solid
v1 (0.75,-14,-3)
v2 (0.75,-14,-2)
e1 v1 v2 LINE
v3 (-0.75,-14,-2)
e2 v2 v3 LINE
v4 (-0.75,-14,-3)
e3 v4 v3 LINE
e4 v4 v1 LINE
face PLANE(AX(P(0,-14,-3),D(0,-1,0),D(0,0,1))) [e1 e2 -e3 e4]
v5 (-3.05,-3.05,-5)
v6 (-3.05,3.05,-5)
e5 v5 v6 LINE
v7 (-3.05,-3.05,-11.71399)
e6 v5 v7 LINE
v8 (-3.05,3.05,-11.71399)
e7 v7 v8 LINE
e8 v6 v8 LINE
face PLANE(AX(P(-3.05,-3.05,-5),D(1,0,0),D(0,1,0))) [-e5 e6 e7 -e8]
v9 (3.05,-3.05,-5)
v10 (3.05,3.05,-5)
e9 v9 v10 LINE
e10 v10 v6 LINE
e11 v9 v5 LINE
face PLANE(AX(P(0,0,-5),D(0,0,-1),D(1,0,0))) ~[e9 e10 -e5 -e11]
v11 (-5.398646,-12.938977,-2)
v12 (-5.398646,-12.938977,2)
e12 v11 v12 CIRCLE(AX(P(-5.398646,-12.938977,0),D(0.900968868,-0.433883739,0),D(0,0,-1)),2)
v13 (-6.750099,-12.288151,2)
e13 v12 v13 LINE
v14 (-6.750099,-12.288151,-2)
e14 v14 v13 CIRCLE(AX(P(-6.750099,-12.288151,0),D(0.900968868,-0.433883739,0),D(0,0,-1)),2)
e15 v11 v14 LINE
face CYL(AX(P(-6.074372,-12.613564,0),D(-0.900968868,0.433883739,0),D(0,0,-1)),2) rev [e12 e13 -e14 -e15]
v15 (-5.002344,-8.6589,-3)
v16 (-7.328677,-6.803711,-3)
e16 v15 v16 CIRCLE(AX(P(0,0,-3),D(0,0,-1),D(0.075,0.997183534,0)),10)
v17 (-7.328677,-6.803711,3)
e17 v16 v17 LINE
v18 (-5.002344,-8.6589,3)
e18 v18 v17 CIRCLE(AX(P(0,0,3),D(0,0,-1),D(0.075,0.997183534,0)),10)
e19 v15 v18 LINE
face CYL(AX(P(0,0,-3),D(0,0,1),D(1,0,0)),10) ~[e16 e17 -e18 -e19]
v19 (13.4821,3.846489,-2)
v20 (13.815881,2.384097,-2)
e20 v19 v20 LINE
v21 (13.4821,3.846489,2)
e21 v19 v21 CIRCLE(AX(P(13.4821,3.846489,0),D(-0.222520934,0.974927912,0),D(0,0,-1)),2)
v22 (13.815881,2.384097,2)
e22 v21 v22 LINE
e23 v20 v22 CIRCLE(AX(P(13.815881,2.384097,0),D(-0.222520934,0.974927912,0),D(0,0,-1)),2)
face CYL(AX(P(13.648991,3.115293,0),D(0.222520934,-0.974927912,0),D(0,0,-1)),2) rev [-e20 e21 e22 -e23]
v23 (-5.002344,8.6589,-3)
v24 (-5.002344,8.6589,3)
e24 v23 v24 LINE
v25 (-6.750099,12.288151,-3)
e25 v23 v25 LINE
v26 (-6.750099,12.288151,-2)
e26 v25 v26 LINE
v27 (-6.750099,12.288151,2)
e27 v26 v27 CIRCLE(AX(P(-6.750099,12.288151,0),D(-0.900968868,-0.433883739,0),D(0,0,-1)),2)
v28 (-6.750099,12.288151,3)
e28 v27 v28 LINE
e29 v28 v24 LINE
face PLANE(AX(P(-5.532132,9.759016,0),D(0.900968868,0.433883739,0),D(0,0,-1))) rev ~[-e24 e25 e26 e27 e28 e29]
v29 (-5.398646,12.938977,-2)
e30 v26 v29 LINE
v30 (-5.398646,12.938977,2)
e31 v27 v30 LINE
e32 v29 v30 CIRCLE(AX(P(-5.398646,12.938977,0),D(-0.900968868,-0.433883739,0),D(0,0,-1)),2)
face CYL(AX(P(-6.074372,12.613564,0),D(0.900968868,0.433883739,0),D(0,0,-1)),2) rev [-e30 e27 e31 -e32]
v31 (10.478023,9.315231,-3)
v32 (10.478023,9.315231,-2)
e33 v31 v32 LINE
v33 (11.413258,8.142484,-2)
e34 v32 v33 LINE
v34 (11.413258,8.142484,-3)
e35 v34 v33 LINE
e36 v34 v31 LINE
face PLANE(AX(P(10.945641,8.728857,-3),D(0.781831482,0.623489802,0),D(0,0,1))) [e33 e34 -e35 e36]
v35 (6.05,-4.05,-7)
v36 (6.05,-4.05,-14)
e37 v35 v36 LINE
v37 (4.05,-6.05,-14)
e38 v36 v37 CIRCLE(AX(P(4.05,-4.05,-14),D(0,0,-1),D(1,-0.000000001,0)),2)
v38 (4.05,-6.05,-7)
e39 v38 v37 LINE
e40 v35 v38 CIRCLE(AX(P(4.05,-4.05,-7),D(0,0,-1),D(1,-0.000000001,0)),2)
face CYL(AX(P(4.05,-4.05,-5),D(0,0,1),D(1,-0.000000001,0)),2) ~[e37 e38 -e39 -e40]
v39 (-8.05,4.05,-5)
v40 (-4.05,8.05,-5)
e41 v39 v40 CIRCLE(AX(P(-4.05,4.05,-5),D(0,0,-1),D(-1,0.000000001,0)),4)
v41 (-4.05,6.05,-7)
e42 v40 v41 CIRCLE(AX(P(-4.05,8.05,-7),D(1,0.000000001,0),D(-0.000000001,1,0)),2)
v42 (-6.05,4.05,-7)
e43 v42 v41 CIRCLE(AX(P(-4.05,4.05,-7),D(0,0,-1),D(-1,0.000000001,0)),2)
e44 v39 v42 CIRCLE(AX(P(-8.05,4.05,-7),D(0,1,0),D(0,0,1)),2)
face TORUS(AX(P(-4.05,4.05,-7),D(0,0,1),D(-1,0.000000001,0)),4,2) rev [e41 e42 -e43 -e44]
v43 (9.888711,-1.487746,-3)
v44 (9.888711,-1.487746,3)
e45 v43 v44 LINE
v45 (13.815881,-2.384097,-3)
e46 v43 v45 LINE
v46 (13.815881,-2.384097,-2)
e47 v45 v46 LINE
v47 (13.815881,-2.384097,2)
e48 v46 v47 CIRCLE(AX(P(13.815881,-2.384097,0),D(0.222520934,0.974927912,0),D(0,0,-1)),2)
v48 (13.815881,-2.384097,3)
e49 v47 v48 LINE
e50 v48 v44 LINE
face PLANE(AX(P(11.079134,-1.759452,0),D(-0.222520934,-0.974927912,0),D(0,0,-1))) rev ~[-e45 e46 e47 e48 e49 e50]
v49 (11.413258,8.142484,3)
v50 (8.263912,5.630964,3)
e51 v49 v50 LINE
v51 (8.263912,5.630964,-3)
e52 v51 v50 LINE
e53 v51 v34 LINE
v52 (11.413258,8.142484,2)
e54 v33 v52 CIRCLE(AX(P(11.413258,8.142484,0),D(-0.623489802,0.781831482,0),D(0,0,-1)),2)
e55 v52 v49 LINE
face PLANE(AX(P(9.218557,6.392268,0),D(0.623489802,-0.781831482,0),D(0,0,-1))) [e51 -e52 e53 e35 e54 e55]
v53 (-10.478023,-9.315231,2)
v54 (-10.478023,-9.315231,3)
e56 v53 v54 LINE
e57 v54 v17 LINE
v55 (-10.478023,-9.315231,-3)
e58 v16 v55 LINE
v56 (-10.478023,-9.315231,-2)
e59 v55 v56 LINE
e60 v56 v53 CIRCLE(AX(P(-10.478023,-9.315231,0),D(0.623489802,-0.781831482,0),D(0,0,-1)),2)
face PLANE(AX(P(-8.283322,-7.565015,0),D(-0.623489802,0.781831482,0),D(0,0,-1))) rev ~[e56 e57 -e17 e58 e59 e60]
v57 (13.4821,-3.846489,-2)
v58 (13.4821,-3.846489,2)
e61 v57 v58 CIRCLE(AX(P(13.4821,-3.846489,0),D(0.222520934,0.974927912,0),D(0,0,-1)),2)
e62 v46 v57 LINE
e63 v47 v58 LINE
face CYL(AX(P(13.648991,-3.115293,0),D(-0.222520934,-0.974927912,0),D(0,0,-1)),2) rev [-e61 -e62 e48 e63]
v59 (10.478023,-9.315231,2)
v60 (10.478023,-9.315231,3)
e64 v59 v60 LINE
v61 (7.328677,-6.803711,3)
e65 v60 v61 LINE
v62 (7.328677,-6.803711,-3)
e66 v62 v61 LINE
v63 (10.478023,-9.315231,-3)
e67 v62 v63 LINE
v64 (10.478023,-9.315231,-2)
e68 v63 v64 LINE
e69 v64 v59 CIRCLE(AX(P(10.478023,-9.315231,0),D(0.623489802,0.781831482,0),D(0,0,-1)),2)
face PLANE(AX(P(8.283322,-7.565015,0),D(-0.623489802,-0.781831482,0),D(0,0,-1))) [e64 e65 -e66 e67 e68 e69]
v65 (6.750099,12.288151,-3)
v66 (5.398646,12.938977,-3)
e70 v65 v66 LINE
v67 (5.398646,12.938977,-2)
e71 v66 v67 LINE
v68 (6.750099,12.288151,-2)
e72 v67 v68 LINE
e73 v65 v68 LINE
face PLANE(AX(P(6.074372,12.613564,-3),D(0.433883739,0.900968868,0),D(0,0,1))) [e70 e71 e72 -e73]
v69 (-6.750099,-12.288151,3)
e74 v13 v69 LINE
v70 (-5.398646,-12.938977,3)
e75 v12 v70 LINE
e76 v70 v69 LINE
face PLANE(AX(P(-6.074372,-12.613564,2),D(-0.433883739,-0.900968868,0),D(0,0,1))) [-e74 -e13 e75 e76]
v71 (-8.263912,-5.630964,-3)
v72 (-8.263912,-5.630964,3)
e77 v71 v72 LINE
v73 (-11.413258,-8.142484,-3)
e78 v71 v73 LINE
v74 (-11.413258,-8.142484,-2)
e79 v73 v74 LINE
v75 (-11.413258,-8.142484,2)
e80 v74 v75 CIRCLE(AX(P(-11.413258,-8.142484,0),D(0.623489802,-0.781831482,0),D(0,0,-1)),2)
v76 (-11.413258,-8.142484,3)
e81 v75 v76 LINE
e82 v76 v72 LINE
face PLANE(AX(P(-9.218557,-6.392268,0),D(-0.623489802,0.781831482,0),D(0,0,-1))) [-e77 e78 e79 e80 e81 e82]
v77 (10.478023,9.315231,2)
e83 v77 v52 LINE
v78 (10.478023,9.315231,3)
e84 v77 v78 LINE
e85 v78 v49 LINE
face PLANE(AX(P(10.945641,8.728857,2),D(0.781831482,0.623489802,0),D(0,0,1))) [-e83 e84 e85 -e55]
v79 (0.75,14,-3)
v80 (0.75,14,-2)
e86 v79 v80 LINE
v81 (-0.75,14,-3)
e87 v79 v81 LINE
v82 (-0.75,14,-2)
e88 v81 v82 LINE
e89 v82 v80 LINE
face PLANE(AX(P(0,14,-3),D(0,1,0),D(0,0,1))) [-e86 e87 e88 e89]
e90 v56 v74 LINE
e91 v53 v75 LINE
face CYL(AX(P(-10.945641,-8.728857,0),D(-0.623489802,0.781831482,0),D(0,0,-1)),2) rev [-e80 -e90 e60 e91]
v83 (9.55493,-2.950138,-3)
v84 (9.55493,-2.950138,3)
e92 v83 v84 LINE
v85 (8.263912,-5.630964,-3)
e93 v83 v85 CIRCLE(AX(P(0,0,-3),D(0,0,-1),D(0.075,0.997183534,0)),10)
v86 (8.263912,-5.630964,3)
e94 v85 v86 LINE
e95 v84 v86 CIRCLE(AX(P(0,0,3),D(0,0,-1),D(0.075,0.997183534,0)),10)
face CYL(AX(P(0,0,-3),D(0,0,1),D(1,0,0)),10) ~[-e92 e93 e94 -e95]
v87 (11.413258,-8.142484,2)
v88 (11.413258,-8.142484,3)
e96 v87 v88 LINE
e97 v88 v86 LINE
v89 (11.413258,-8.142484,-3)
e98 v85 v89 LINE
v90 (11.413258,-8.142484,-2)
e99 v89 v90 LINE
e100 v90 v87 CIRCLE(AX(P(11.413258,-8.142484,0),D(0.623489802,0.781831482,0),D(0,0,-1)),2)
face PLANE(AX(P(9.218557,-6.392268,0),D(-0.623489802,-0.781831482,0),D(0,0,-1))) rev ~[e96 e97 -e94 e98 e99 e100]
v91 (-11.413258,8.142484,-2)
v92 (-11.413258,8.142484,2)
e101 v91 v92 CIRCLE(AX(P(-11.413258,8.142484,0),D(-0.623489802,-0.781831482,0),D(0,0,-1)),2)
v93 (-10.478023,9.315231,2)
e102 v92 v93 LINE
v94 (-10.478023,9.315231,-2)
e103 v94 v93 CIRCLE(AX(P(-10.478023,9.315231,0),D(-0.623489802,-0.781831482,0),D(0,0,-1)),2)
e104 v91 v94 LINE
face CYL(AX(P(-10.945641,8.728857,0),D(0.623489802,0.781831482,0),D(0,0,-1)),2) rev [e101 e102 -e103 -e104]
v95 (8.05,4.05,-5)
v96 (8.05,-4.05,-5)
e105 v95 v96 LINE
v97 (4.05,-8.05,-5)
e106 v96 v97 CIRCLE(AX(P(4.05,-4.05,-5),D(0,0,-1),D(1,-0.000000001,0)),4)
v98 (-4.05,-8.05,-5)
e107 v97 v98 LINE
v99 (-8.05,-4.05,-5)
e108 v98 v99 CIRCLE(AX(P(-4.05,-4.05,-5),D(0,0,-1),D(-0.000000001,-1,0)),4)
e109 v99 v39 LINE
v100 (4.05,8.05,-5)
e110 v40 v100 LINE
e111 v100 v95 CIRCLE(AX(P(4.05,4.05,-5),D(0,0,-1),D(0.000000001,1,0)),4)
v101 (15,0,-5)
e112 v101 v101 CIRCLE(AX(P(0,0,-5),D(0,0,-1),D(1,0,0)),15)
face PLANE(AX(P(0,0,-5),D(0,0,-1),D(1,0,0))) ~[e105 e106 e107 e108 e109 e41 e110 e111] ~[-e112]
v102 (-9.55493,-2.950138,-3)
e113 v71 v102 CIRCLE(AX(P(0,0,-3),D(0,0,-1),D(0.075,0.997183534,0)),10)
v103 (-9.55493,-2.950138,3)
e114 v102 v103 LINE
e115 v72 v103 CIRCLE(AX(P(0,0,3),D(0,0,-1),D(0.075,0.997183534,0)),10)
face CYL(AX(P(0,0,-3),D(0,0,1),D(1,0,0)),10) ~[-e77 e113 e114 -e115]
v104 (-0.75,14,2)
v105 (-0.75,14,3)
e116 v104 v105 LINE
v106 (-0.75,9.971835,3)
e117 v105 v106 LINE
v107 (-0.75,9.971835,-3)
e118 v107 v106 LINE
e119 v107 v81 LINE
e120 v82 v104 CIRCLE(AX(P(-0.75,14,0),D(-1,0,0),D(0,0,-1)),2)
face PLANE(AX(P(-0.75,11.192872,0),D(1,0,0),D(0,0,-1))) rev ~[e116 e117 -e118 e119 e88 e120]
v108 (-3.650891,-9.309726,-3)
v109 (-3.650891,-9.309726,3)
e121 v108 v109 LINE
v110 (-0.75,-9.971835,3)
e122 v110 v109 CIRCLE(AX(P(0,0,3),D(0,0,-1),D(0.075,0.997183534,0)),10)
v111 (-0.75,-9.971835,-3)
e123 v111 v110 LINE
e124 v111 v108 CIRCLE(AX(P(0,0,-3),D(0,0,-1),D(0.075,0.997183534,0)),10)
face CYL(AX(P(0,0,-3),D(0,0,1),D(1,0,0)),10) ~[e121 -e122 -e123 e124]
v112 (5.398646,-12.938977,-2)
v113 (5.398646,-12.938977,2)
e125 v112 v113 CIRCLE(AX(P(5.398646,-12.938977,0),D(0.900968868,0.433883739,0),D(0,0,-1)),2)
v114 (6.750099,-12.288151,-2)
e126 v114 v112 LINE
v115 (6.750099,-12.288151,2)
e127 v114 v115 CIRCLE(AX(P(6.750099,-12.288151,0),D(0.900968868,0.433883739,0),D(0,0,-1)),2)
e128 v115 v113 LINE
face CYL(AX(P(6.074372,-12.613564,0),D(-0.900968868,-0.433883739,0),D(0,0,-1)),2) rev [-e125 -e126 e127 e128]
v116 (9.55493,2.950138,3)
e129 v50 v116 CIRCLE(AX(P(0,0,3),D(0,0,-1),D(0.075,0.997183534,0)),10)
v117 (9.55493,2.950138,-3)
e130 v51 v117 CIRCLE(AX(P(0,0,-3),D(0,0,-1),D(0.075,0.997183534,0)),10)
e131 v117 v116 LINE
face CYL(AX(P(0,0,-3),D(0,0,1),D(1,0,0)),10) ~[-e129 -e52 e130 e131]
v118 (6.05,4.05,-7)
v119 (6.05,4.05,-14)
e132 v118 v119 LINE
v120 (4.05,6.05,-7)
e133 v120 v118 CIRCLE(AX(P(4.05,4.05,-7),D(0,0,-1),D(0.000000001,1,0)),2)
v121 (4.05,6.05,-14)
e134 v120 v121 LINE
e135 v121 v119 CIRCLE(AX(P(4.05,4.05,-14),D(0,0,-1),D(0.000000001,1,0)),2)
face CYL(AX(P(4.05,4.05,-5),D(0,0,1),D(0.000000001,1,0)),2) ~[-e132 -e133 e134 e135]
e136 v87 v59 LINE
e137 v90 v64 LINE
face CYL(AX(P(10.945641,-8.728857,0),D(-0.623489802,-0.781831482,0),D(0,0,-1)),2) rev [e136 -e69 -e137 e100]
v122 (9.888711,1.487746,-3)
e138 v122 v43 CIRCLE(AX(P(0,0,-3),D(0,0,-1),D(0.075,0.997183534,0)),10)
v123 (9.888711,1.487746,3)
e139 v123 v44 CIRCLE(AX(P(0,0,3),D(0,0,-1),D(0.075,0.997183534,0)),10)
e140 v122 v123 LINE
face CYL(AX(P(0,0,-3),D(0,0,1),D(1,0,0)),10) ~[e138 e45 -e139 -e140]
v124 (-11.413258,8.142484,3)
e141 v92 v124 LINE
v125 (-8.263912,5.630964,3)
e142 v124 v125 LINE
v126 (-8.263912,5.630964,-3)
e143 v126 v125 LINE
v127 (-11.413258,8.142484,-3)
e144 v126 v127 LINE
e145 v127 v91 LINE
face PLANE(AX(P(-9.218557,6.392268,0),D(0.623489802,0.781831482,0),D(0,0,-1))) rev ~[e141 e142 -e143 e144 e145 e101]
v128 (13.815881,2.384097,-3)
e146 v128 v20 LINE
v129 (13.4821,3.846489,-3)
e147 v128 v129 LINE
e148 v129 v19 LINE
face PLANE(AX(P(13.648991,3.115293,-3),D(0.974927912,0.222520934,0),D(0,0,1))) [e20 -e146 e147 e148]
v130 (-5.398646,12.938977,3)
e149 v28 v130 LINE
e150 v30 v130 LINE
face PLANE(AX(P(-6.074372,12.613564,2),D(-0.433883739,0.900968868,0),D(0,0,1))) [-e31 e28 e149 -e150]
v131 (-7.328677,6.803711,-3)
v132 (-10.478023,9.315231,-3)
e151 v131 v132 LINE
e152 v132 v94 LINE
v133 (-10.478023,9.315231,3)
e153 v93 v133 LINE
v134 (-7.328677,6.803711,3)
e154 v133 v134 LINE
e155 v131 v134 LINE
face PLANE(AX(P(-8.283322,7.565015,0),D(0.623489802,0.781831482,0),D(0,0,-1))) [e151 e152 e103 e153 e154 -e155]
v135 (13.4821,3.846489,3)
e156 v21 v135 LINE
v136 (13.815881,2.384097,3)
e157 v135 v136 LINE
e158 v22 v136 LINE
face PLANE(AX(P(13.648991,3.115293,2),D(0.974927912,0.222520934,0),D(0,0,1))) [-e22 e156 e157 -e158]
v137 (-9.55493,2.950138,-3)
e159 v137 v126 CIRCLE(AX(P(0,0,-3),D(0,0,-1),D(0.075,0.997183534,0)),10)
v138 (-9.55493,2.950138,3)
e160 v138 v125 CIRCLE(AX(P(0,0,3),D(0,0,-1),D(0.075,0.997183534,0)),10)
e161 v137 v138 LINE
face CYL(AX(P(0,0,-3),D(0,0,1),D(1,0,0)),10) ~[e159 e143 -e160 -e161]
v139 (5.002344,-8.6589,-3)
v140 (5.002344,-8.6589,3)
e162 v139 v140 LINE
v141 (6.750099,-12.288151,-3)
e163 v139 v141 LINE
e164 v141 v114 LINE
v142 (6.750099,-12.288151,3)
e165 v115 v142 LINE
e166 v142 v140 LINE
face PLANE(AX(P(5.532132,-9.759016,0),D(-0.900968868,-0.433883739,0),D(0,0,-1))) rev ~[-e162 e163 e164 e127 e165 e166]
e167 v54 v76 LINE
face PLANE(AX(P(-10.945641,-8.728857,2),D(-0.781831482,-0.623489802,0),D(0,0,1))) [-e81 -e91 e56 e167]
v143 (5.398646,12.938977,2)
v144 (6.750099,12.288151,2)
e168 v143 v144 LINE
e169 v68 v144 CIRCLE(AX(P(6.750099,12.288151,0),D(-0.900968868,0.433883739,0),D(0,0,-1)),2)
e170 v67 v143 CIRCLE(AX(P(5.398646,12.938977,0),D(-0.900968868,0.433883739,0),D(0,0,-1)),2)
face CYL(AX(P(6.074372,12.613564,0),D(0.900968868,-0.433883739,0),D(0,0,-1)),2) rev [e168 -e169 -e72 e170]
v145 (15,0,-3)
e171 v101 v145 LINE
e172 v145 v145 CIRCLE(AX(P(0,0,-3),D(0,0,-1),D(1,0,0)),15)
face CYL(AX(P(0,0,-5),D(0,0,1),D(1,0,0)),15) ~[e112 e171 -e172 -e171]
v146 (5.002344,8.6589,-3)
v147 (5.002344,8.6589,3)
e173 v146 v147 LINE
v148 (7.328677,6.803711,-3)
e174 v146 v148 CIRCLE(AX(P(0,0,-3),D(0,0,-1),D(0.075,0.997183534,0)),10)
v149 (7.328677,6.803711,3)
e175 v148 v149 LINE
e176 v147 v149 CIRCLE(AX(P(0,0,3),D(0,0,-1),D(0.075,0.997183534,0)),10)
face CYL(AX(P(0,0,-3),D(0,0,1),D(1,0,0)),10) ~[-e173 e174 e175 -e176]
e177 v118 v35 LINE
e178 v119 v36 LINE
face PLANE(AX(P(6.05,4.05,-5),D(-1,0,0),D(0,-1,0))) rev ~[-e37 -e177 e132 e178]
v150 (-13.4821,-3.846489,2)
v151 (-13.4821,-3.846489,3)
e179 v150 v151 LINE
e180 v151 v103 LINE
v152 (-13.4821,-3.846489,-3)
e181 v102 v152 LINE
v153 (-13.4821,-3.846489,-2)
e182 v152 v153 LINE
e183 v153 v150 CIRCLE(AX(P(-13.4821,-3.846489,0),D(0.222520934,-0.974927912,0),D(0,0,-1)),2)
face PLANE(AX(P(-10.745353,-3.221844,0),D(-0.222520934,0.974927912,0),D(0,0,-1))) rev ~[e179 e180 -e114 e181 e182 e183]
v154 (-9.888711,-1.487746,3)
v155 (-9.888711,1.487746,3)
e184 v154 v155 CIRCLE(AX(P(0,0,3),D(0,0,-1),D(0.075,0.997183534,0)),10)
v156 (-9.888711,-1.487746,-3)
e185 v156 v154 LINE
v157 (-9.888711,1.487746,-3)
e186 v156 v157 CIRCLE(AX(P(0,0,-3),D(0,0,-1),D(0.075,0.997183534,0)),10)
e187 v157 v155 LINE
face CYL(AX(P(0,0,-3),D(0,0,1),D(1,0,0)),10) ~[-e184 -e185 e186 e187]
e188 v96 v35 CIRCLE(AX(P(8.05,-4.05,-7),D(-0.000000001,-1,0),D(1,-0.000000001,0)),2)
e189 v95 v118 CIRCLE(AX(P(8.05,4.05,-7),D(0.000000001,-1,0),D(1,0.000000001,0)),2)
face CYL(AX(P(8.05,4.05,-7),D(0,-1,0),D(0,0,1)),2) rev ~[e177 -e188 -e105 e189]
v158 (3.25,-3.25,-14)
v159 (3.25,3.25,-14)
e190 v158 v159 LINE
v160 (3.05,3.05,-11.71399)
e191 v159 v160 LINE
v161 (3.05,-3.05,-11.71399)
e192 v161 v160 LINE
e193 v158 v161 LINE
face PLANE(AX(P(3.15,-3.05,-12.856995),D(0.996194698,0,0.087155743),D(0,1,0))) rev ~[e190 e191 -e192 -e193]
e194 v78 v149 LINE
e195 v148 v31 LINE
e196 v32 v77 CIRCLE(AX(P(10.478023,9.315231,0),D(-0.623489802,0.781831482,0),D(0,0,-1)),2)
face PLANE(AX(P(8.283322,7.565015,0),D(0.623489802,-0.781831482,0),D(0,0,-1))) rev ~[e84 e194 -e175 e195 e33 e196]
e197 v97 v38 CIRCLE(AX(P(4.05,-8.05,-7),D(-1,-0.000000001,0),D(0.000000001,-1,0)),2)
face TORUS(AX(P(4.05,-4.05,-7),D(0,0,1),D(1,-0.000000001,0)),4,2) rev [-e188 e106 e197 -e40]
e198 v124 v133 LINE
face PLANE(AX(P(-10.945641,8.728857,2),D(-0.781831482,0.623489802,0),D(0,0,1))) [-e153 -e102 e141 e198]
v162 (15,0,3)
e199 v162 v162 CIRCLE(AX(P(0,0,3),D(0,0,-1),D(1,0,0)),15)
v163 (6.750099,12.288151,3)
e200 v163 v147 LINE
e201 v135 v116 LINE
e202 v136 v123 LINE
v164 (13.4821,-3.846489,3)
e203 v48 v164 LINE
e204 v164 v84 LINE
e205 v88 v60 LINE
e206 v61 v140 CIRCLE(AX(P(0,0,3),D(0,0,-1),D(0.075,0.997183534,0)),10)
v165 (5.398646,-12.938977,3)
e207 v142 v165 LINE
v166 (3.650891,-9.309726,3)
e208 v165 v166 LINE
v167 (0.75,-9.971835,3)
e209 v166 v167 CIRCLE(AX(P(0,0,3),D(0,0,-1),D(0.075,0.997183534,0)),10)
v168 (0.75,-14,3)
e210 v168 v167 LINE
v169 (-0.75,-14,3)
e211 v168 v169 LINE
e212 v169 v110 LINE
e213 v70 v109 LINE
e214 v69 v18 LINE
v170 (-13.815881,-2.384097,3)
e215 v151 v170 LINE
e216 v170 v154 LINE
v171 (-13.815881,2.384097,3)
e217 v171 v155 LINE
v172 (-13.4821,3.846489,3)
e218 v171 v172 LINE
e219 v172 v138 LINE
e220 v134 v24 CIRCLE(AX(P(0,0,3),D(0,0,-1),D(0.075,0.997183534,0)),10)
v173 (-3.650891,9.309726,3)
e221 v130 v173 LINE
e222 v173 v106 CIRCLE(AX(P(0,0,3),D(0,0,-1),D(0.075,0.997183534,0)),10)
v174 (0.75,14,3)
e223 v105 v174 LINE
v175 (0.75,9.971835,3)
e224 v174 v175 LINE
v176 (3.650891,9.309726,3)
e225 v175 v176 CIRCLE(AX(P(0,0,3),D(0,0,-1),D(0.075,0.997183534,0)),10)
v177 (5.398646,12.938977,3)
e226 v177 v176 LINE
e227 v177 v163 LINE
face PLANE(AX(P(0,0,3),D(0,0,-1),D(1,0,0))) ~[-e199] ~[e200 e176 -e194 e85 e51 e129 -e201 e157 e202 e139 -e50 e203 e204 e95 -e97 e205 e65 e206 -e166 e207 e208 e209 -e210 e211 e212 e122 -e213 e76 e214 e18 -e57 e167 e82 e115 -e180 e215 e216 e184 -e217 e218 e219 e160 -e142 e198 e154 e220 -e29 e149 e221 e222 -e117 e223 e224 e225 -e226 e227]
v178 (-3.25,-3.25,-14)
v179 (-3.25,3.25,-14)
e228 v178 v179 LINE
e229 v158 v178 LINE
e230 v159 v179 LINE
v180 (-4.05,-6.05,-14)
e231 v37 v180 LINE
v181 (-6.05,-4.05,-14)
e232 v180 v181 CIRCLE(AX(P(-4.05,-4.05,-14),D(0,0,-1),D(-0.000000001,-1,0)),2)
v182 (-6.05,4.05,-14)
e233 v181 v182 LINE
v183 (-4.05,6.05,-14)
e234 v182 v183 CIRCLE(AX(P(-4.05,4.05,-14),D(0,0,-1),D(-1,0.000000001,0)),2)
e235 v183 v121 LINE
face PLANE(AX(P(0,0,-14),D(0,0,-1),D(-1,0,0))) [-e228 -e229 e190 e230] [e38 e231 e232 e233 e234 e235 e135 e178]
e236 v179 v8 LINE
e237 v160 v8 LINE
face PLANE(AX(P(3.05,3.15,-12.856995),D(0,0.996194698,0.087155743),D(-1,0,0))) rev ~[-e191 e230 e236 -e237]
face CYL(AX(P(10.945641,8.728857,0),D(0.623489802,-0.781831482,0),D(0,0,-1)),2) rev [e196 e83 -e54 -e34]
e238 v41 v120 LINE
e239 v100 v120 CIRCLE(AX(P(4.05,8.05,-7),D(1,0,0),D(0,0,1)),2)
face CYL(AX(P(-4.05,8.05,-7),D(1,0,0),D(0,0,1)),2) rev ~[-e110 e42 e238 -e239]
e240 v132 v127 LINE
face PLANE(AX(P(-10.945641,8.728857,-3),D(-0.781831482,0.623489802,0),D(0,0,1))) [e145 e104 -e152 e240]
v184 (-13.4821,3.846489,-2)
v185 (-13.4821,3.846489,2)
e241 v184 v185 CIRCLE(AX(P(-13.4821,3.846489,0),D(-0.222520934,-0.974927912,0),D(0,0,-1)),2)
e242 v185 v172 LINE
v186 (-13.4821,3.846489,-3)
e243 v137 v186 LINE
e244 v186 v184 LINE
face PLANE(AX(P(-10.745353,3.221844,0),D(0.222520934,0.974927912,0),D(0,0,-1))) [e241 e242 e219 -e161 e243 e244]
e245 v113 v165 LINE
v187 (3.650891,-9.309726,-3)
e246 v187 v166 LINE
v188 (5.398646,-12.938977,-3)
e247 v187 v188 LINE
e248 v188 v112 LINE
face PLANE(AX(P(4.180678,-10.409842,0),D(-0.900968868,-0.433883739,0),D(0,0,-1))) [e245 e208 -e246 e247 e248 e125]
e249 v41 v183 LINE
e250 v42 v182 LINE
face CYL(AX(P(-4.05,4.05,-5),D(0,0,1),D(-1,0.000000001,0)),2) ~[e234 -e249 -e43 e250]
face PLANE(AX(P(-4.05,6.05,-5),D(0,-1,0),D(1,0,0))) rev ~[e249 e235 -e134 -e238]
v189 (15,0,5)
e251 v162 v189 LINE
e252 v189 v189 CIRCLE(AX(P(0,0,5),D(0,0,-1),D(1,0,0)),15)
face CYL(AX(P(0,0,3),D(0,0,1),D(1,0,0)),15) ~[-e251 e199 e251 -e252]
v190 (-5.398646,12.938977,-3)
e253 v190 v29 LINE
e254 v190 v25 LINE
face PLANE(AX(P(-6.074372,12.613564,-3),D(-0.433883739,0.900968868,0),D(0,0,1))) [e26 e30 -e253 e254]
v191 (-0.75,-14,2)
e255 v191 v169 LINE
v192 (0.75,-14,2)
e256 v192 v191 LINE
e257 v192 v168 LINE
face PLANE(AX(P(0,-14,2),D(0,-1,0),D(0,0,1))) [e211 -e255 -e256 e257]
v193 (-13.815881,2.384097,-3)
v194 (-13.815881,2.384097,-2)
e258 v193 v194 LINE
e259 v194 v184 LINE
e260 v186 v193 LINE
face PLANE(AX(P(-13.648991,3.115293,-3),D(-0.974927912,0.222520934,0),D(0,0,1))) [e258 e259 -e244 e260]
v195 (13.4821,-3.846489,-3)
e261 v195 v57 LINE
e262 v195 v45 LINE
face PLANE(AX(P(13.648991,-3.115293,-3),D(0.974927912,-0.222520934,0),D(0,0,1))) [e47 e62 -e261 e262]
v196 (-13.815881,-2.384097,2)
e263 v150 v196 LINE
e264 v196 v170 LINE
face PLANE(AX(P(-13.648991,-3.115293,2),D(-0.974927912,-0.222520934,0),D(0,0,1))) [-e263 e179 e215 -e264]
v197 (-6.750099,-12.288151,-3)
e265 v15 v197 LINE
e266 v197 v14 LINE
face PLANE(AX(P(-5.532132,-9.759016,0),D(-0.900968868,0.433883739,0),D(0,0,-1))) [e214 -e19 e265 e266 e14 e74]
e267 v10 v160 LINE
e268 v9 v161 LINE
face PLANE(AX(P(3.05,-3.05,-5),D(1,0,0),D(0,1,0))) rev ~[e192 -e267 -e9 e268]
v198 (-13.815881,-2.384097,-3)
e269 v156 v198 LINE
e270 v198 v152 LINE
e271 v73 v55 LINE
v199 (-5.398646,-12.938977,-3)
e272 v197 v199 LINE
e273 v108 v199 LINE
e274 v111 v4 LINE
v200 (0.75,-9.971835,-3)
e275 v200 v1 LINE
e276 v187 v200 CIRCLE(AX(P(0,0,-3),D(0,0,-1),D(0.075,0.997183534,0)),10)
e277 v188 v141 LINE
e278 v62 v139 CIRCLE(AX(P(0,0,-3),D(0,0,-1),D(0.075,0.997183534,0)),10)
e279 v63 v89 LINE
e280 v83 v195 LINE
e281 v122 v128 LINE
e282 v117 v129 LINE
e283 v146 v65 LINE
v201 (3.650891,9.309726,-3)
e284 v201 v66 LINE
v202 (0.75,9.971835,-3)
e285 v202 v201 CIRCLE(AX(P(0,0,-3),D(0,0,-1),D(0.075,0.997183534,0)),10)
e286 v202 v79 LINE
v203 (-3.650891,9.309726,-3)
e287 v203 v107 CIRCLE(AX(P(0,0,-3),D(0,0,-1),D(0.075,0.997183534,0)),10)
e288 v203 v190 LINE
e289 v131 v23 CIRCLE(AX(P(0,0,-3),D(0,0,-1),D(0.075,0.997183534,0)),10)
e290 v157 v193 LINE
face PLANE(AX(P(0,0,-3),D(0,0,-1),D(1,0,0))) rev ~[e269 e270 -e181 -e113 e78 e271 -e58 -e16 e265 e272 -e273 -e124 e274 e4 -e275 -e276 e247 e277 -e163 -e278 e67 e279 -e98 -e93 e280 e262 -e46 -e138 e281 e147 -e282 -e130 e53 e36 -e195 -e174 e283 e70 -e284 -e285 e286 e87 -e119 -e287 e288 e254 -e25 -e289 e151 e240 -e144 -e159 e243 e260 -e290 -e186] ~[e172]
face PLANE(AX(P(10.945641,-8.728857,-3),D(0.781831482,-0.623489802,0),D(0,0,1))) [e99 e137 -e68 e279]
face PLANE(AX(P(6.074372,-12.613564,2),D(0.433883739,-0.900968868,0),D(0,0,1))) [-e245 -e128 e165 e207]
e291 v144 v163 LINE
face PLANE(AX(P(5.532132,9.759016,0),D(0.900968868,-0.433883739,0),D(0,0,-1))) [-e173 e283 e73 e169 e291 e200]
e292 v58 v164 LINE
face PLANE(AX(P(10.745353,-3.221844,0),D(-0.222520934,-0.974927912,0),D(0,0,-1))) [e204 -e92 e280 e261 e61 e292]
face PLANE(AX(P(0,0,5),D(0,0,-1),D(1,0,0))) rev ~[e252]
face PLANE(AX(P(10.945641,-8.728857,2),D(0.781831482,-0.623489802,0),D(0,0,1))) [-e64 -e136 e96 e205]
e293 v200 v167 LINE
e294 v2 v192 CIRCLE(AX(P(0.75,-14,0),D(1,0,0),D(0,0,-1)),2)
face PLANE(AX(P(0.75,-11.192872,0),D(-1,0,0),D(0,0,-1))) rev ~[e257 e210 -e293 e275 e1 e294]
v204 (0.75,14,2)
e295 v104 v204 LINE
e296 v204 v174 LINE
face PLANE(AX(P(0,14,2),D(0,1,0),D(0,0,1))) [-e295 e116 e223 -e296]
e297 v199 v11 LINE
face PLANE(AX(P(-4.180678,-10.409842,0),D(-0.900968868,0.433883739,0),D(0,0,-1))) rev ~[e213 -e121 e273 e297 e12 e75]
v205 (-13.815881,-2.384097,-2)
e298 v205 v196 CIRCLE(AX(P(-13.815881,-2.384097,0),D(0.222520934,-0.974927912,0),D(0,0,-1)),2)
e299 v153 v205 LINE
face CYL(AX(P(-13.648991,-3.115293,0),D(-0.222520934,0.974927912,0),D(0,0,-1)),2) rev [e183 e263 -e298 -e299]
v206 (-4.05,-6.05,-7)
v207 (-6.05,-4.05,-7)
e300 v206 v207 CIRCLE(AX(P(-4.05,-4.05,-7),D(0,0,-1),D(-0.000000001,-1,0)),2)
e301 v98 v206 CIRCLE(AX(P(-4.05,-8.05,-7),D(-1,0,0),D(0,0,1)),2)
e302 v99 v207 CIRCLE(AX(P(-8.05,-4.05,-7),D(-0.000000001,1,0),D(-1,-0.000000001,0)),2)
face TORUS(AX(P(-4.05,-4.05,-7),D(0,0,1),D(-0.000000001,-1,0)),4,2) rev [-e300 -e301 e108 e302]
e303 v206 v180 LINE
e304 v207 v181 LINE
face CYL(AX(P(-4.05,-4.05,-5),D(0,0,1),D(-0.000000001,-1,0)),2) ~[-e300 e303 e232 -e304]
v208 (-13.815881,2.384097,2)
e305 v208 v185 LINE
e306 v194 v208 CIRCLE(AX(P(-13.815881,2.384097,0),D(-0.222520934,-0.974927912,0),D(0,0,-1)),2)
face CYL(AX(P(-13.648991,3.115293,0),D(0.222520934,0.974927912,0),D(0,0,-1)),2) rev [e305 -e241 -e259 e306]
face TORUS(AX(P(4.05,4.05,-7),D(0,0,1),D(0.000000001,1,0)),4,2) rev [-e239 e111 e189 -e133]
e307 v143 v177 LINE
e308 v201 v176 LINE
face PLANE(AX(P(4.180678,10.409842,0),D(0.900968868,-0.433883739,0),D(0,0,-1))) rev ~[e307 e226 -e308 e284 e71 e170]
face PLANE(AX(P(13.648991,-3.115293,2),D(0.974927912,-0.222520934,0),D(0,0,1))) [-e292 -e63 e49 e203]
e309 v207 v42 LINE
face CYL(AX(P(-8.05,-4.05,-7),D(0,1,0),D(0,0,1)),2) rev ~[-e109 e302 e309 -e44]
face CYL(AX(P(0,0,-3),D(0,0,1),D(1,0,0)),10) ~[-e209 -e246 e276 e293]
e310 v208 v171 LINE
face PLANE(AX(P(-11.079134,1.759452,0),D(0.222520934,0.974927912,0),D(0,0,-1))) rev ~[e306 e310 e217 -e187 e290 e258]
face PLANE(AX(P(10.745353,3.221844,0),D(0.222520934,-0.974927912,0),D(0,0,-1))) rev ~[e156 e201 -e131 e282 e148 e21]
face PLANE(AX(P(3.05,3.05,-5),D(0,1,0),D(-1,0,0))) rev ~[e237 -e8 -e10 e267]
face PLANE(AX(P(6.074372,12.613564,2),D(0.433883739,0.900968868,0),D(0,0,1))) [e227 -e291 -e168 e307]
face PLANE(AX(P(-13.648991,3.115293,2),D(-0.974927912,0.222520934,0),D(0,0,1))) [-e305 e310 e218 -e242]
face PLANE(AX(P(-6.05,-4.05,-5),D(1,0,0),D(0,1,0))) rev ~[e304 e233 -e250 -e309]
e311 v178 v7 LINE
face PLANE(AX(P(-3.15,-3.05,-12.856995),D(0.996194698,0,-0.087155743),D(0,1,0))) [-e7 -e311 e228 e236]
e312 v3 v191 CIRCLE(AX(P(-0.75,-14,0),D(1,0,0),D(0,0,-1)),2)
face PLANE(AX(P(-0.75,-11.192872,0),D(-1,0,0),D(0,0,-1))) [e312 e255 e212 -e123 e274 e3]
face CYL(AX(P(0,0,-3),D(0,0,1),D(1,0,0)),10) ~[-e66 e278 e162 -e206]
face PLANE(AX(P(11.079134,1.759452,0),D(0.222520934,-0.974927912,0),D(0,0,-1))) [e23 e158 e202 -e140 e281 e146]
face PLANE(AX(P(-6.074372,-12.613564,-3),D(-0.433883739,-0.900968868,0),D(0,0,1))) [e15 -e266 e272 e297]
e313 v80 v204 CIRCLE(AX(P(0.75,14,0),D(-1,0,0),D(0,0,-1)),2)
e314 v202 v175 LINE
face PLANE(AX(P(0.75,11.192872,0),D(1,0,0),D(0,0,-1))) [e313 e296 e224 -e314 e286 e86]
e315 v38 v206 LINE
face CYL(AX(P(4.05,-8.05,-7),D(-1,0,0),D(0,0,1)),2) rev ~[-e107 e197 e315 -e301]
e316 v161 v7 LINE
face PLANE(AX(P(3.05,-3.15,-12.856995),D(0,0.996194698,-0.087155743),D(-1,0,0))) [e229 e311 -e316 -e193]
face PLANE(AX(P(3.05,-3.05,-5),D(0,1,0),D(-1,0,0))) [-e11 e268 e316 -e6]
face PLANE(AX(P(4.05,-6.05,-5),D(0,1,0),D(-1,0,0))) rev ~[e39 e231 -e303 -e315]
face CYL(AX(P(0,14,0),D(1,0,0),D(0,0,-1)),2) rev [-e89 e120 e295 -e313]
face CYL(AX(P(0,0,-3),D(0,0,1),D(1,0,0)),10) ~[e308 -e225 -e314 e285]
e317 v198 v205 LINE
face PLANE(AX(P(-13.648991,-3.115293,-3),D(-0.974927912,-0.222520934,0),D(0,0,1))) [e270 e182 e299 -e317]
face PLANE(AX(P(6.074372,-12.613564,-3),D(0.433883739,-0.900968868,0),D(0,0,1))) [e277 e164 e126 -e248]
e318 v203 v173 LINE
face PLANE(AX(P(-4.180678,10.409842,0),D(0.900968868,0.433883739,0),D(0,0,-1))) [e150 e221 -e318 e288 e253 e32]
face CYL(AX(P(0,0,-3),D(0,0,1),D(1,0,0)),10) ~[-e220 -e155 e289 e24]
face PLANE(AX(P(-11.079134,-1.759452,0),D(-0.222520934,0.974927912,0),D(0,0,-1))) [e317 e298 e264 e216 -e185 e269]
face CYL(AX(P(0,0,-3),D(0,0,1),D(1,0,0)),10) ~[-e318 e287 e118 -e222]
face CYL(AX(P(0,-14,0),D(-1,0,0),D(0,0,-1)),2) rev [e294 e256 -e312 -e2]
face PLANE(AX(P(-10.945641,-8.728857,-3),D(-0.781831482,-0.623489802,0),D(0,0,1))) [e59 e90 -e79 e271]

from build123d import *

# Parameters (mm, degrees)
EXTRUDE_1_DEPTH          = 0.75
PATTERN_CIRCULAR_1_COUNT = 14
SKETCH_3_W               = 6.1
SKETCH_3_H               = 6.1
EXTRUDE_2_DEPTH          = 9
FILLET_1_R               = 2
CHAMFER_1_SIZE           = 0.2
CHAMFER_1_SIZE2          = 2.286010461


with BuildPart() as part:
    # 草圖1 → 旋轉1 (revolve)
    with BuildSketch(Plane(origin=(0, 0, 0), x_dir=(0, 0, -1), z_dir=(1, 0, 0))):
        Polygon((-5, 0), (5, 0), (5, 15), (3, 15), (3, 10), (-3, 10), (-3, 15), (-5, 15), align=None)
    revolve(axis=Axis((0, 0, 5), (0, 0, -1)))

    # 草圖2 → 填料-伸長1 (add, symmetric)
    with BuildSketch(Plane(origin=(0, 0, 0), x_dir=(0, 0, -1), z_dir=(1, 0, 0))):
        with BuildLine():
            Line((3, 10), (3, 14))
            Line((3, 14), (2, 14))
            ThreePointArc((2, 14), (0, 12), (-2, 14))
            Line((-2, 14), (-3, 14))
            Line((-3, 14), (-3, 10))
            Line((-3, 10), (-3, 8.5))
            Line((-3, 8.5), (3, 8.5))
            Line((3, 8.5), (3, 10))
        make_face()
    extrude_1 = extrude(amount=EXTRUDE_1_DEPTH, both=True)

    # 環狀複製排列1: 填料-伸長1 ×14 about axis
    pattern_circular_1_axis = Axis((0, 0, 5.5), (0, 0, -1))
    for i in range(1, PATTERN_CIRCULAR_1_COUNT):
        add(extrude_1.rotate(pattern_circular_1_axis, i * 360 / PATTERN_CIRCULAR_1_COUNT))

    # 草圖3 → 填料-伸長2 (add)
    with BuildSketch(Plane(origin=(0, 0, -5), x_dir=(-1, 0, 0), z_dir=(0, 0, -1))):
        with BuildLine():
            Line((-4.05, -6.05), (4.05, -6.05))
            ThreePointArc((4.05, -6.05), (5.464213562, -5.464213562), (6.05, -4.05))
            Line((6.05, -4.05), (6.05, 4.05))
            ThreePointArc((6.05, 4.05), (5.464213562, 5.464213562), (4.05, 6.05))
            Line((4.05, 6.05), (-4.05, 6.05))
            ThreePointArc((-4.05, 6.05), (-5.464213562, 5.464213562), (-6.05, 4.05))
            Line((-6.05, 4.05), (-6.05, -4.05))
            ThreePointArc((-6.05, -4.05), (-5.464213562, -5.464213562), (-4.05, -6.05))
        make_face()
        Rectangle(SKETCH_3_W, SKETCH_3_H, mode=Mode.SUBTRACT)
    extrude(amount=EXTRUDE_2_DEPTH)

    # 圓角1
    fillet_1_edges = [part.edges().sort_by_distance(p)[0] for p in [
        (0, 6.05, -5),
        (-5.464213562, 5.464213562, -5),
        (-6.05, 0, -5),
        (-5.464213562, -5.464213562, -5),
        (0, -6.05, -5),
        (5.464213562, -5.464213562, -5),
        (6.05, 0, -5),
        (5.464213562, 5.464213562, -5),
    ]]
    fillet(fillet_1_edges, radius=FILLET_1_R)

    # 導角1
    chamfer_1_edges = [part.edges().sort_by_distance(p)[0] for p in [
        (0, -3.05, -14),
        (-3.05, 0, -14),
        (0, 3.05, -14),
        (3.05, 0, -14),
    ]]
    chamfer_1_side = [part.faces().sort_by_distance(p)[0] for p in [
        (5.343213562, -5.343213562, -14),
    ]]
    chamfer(chamfer_1_edges, length=CHAMFER_1_SIZE, length2=CHAMFER_1_SIZE2, reference=chamfer_1_side[0])


solid = part.part
